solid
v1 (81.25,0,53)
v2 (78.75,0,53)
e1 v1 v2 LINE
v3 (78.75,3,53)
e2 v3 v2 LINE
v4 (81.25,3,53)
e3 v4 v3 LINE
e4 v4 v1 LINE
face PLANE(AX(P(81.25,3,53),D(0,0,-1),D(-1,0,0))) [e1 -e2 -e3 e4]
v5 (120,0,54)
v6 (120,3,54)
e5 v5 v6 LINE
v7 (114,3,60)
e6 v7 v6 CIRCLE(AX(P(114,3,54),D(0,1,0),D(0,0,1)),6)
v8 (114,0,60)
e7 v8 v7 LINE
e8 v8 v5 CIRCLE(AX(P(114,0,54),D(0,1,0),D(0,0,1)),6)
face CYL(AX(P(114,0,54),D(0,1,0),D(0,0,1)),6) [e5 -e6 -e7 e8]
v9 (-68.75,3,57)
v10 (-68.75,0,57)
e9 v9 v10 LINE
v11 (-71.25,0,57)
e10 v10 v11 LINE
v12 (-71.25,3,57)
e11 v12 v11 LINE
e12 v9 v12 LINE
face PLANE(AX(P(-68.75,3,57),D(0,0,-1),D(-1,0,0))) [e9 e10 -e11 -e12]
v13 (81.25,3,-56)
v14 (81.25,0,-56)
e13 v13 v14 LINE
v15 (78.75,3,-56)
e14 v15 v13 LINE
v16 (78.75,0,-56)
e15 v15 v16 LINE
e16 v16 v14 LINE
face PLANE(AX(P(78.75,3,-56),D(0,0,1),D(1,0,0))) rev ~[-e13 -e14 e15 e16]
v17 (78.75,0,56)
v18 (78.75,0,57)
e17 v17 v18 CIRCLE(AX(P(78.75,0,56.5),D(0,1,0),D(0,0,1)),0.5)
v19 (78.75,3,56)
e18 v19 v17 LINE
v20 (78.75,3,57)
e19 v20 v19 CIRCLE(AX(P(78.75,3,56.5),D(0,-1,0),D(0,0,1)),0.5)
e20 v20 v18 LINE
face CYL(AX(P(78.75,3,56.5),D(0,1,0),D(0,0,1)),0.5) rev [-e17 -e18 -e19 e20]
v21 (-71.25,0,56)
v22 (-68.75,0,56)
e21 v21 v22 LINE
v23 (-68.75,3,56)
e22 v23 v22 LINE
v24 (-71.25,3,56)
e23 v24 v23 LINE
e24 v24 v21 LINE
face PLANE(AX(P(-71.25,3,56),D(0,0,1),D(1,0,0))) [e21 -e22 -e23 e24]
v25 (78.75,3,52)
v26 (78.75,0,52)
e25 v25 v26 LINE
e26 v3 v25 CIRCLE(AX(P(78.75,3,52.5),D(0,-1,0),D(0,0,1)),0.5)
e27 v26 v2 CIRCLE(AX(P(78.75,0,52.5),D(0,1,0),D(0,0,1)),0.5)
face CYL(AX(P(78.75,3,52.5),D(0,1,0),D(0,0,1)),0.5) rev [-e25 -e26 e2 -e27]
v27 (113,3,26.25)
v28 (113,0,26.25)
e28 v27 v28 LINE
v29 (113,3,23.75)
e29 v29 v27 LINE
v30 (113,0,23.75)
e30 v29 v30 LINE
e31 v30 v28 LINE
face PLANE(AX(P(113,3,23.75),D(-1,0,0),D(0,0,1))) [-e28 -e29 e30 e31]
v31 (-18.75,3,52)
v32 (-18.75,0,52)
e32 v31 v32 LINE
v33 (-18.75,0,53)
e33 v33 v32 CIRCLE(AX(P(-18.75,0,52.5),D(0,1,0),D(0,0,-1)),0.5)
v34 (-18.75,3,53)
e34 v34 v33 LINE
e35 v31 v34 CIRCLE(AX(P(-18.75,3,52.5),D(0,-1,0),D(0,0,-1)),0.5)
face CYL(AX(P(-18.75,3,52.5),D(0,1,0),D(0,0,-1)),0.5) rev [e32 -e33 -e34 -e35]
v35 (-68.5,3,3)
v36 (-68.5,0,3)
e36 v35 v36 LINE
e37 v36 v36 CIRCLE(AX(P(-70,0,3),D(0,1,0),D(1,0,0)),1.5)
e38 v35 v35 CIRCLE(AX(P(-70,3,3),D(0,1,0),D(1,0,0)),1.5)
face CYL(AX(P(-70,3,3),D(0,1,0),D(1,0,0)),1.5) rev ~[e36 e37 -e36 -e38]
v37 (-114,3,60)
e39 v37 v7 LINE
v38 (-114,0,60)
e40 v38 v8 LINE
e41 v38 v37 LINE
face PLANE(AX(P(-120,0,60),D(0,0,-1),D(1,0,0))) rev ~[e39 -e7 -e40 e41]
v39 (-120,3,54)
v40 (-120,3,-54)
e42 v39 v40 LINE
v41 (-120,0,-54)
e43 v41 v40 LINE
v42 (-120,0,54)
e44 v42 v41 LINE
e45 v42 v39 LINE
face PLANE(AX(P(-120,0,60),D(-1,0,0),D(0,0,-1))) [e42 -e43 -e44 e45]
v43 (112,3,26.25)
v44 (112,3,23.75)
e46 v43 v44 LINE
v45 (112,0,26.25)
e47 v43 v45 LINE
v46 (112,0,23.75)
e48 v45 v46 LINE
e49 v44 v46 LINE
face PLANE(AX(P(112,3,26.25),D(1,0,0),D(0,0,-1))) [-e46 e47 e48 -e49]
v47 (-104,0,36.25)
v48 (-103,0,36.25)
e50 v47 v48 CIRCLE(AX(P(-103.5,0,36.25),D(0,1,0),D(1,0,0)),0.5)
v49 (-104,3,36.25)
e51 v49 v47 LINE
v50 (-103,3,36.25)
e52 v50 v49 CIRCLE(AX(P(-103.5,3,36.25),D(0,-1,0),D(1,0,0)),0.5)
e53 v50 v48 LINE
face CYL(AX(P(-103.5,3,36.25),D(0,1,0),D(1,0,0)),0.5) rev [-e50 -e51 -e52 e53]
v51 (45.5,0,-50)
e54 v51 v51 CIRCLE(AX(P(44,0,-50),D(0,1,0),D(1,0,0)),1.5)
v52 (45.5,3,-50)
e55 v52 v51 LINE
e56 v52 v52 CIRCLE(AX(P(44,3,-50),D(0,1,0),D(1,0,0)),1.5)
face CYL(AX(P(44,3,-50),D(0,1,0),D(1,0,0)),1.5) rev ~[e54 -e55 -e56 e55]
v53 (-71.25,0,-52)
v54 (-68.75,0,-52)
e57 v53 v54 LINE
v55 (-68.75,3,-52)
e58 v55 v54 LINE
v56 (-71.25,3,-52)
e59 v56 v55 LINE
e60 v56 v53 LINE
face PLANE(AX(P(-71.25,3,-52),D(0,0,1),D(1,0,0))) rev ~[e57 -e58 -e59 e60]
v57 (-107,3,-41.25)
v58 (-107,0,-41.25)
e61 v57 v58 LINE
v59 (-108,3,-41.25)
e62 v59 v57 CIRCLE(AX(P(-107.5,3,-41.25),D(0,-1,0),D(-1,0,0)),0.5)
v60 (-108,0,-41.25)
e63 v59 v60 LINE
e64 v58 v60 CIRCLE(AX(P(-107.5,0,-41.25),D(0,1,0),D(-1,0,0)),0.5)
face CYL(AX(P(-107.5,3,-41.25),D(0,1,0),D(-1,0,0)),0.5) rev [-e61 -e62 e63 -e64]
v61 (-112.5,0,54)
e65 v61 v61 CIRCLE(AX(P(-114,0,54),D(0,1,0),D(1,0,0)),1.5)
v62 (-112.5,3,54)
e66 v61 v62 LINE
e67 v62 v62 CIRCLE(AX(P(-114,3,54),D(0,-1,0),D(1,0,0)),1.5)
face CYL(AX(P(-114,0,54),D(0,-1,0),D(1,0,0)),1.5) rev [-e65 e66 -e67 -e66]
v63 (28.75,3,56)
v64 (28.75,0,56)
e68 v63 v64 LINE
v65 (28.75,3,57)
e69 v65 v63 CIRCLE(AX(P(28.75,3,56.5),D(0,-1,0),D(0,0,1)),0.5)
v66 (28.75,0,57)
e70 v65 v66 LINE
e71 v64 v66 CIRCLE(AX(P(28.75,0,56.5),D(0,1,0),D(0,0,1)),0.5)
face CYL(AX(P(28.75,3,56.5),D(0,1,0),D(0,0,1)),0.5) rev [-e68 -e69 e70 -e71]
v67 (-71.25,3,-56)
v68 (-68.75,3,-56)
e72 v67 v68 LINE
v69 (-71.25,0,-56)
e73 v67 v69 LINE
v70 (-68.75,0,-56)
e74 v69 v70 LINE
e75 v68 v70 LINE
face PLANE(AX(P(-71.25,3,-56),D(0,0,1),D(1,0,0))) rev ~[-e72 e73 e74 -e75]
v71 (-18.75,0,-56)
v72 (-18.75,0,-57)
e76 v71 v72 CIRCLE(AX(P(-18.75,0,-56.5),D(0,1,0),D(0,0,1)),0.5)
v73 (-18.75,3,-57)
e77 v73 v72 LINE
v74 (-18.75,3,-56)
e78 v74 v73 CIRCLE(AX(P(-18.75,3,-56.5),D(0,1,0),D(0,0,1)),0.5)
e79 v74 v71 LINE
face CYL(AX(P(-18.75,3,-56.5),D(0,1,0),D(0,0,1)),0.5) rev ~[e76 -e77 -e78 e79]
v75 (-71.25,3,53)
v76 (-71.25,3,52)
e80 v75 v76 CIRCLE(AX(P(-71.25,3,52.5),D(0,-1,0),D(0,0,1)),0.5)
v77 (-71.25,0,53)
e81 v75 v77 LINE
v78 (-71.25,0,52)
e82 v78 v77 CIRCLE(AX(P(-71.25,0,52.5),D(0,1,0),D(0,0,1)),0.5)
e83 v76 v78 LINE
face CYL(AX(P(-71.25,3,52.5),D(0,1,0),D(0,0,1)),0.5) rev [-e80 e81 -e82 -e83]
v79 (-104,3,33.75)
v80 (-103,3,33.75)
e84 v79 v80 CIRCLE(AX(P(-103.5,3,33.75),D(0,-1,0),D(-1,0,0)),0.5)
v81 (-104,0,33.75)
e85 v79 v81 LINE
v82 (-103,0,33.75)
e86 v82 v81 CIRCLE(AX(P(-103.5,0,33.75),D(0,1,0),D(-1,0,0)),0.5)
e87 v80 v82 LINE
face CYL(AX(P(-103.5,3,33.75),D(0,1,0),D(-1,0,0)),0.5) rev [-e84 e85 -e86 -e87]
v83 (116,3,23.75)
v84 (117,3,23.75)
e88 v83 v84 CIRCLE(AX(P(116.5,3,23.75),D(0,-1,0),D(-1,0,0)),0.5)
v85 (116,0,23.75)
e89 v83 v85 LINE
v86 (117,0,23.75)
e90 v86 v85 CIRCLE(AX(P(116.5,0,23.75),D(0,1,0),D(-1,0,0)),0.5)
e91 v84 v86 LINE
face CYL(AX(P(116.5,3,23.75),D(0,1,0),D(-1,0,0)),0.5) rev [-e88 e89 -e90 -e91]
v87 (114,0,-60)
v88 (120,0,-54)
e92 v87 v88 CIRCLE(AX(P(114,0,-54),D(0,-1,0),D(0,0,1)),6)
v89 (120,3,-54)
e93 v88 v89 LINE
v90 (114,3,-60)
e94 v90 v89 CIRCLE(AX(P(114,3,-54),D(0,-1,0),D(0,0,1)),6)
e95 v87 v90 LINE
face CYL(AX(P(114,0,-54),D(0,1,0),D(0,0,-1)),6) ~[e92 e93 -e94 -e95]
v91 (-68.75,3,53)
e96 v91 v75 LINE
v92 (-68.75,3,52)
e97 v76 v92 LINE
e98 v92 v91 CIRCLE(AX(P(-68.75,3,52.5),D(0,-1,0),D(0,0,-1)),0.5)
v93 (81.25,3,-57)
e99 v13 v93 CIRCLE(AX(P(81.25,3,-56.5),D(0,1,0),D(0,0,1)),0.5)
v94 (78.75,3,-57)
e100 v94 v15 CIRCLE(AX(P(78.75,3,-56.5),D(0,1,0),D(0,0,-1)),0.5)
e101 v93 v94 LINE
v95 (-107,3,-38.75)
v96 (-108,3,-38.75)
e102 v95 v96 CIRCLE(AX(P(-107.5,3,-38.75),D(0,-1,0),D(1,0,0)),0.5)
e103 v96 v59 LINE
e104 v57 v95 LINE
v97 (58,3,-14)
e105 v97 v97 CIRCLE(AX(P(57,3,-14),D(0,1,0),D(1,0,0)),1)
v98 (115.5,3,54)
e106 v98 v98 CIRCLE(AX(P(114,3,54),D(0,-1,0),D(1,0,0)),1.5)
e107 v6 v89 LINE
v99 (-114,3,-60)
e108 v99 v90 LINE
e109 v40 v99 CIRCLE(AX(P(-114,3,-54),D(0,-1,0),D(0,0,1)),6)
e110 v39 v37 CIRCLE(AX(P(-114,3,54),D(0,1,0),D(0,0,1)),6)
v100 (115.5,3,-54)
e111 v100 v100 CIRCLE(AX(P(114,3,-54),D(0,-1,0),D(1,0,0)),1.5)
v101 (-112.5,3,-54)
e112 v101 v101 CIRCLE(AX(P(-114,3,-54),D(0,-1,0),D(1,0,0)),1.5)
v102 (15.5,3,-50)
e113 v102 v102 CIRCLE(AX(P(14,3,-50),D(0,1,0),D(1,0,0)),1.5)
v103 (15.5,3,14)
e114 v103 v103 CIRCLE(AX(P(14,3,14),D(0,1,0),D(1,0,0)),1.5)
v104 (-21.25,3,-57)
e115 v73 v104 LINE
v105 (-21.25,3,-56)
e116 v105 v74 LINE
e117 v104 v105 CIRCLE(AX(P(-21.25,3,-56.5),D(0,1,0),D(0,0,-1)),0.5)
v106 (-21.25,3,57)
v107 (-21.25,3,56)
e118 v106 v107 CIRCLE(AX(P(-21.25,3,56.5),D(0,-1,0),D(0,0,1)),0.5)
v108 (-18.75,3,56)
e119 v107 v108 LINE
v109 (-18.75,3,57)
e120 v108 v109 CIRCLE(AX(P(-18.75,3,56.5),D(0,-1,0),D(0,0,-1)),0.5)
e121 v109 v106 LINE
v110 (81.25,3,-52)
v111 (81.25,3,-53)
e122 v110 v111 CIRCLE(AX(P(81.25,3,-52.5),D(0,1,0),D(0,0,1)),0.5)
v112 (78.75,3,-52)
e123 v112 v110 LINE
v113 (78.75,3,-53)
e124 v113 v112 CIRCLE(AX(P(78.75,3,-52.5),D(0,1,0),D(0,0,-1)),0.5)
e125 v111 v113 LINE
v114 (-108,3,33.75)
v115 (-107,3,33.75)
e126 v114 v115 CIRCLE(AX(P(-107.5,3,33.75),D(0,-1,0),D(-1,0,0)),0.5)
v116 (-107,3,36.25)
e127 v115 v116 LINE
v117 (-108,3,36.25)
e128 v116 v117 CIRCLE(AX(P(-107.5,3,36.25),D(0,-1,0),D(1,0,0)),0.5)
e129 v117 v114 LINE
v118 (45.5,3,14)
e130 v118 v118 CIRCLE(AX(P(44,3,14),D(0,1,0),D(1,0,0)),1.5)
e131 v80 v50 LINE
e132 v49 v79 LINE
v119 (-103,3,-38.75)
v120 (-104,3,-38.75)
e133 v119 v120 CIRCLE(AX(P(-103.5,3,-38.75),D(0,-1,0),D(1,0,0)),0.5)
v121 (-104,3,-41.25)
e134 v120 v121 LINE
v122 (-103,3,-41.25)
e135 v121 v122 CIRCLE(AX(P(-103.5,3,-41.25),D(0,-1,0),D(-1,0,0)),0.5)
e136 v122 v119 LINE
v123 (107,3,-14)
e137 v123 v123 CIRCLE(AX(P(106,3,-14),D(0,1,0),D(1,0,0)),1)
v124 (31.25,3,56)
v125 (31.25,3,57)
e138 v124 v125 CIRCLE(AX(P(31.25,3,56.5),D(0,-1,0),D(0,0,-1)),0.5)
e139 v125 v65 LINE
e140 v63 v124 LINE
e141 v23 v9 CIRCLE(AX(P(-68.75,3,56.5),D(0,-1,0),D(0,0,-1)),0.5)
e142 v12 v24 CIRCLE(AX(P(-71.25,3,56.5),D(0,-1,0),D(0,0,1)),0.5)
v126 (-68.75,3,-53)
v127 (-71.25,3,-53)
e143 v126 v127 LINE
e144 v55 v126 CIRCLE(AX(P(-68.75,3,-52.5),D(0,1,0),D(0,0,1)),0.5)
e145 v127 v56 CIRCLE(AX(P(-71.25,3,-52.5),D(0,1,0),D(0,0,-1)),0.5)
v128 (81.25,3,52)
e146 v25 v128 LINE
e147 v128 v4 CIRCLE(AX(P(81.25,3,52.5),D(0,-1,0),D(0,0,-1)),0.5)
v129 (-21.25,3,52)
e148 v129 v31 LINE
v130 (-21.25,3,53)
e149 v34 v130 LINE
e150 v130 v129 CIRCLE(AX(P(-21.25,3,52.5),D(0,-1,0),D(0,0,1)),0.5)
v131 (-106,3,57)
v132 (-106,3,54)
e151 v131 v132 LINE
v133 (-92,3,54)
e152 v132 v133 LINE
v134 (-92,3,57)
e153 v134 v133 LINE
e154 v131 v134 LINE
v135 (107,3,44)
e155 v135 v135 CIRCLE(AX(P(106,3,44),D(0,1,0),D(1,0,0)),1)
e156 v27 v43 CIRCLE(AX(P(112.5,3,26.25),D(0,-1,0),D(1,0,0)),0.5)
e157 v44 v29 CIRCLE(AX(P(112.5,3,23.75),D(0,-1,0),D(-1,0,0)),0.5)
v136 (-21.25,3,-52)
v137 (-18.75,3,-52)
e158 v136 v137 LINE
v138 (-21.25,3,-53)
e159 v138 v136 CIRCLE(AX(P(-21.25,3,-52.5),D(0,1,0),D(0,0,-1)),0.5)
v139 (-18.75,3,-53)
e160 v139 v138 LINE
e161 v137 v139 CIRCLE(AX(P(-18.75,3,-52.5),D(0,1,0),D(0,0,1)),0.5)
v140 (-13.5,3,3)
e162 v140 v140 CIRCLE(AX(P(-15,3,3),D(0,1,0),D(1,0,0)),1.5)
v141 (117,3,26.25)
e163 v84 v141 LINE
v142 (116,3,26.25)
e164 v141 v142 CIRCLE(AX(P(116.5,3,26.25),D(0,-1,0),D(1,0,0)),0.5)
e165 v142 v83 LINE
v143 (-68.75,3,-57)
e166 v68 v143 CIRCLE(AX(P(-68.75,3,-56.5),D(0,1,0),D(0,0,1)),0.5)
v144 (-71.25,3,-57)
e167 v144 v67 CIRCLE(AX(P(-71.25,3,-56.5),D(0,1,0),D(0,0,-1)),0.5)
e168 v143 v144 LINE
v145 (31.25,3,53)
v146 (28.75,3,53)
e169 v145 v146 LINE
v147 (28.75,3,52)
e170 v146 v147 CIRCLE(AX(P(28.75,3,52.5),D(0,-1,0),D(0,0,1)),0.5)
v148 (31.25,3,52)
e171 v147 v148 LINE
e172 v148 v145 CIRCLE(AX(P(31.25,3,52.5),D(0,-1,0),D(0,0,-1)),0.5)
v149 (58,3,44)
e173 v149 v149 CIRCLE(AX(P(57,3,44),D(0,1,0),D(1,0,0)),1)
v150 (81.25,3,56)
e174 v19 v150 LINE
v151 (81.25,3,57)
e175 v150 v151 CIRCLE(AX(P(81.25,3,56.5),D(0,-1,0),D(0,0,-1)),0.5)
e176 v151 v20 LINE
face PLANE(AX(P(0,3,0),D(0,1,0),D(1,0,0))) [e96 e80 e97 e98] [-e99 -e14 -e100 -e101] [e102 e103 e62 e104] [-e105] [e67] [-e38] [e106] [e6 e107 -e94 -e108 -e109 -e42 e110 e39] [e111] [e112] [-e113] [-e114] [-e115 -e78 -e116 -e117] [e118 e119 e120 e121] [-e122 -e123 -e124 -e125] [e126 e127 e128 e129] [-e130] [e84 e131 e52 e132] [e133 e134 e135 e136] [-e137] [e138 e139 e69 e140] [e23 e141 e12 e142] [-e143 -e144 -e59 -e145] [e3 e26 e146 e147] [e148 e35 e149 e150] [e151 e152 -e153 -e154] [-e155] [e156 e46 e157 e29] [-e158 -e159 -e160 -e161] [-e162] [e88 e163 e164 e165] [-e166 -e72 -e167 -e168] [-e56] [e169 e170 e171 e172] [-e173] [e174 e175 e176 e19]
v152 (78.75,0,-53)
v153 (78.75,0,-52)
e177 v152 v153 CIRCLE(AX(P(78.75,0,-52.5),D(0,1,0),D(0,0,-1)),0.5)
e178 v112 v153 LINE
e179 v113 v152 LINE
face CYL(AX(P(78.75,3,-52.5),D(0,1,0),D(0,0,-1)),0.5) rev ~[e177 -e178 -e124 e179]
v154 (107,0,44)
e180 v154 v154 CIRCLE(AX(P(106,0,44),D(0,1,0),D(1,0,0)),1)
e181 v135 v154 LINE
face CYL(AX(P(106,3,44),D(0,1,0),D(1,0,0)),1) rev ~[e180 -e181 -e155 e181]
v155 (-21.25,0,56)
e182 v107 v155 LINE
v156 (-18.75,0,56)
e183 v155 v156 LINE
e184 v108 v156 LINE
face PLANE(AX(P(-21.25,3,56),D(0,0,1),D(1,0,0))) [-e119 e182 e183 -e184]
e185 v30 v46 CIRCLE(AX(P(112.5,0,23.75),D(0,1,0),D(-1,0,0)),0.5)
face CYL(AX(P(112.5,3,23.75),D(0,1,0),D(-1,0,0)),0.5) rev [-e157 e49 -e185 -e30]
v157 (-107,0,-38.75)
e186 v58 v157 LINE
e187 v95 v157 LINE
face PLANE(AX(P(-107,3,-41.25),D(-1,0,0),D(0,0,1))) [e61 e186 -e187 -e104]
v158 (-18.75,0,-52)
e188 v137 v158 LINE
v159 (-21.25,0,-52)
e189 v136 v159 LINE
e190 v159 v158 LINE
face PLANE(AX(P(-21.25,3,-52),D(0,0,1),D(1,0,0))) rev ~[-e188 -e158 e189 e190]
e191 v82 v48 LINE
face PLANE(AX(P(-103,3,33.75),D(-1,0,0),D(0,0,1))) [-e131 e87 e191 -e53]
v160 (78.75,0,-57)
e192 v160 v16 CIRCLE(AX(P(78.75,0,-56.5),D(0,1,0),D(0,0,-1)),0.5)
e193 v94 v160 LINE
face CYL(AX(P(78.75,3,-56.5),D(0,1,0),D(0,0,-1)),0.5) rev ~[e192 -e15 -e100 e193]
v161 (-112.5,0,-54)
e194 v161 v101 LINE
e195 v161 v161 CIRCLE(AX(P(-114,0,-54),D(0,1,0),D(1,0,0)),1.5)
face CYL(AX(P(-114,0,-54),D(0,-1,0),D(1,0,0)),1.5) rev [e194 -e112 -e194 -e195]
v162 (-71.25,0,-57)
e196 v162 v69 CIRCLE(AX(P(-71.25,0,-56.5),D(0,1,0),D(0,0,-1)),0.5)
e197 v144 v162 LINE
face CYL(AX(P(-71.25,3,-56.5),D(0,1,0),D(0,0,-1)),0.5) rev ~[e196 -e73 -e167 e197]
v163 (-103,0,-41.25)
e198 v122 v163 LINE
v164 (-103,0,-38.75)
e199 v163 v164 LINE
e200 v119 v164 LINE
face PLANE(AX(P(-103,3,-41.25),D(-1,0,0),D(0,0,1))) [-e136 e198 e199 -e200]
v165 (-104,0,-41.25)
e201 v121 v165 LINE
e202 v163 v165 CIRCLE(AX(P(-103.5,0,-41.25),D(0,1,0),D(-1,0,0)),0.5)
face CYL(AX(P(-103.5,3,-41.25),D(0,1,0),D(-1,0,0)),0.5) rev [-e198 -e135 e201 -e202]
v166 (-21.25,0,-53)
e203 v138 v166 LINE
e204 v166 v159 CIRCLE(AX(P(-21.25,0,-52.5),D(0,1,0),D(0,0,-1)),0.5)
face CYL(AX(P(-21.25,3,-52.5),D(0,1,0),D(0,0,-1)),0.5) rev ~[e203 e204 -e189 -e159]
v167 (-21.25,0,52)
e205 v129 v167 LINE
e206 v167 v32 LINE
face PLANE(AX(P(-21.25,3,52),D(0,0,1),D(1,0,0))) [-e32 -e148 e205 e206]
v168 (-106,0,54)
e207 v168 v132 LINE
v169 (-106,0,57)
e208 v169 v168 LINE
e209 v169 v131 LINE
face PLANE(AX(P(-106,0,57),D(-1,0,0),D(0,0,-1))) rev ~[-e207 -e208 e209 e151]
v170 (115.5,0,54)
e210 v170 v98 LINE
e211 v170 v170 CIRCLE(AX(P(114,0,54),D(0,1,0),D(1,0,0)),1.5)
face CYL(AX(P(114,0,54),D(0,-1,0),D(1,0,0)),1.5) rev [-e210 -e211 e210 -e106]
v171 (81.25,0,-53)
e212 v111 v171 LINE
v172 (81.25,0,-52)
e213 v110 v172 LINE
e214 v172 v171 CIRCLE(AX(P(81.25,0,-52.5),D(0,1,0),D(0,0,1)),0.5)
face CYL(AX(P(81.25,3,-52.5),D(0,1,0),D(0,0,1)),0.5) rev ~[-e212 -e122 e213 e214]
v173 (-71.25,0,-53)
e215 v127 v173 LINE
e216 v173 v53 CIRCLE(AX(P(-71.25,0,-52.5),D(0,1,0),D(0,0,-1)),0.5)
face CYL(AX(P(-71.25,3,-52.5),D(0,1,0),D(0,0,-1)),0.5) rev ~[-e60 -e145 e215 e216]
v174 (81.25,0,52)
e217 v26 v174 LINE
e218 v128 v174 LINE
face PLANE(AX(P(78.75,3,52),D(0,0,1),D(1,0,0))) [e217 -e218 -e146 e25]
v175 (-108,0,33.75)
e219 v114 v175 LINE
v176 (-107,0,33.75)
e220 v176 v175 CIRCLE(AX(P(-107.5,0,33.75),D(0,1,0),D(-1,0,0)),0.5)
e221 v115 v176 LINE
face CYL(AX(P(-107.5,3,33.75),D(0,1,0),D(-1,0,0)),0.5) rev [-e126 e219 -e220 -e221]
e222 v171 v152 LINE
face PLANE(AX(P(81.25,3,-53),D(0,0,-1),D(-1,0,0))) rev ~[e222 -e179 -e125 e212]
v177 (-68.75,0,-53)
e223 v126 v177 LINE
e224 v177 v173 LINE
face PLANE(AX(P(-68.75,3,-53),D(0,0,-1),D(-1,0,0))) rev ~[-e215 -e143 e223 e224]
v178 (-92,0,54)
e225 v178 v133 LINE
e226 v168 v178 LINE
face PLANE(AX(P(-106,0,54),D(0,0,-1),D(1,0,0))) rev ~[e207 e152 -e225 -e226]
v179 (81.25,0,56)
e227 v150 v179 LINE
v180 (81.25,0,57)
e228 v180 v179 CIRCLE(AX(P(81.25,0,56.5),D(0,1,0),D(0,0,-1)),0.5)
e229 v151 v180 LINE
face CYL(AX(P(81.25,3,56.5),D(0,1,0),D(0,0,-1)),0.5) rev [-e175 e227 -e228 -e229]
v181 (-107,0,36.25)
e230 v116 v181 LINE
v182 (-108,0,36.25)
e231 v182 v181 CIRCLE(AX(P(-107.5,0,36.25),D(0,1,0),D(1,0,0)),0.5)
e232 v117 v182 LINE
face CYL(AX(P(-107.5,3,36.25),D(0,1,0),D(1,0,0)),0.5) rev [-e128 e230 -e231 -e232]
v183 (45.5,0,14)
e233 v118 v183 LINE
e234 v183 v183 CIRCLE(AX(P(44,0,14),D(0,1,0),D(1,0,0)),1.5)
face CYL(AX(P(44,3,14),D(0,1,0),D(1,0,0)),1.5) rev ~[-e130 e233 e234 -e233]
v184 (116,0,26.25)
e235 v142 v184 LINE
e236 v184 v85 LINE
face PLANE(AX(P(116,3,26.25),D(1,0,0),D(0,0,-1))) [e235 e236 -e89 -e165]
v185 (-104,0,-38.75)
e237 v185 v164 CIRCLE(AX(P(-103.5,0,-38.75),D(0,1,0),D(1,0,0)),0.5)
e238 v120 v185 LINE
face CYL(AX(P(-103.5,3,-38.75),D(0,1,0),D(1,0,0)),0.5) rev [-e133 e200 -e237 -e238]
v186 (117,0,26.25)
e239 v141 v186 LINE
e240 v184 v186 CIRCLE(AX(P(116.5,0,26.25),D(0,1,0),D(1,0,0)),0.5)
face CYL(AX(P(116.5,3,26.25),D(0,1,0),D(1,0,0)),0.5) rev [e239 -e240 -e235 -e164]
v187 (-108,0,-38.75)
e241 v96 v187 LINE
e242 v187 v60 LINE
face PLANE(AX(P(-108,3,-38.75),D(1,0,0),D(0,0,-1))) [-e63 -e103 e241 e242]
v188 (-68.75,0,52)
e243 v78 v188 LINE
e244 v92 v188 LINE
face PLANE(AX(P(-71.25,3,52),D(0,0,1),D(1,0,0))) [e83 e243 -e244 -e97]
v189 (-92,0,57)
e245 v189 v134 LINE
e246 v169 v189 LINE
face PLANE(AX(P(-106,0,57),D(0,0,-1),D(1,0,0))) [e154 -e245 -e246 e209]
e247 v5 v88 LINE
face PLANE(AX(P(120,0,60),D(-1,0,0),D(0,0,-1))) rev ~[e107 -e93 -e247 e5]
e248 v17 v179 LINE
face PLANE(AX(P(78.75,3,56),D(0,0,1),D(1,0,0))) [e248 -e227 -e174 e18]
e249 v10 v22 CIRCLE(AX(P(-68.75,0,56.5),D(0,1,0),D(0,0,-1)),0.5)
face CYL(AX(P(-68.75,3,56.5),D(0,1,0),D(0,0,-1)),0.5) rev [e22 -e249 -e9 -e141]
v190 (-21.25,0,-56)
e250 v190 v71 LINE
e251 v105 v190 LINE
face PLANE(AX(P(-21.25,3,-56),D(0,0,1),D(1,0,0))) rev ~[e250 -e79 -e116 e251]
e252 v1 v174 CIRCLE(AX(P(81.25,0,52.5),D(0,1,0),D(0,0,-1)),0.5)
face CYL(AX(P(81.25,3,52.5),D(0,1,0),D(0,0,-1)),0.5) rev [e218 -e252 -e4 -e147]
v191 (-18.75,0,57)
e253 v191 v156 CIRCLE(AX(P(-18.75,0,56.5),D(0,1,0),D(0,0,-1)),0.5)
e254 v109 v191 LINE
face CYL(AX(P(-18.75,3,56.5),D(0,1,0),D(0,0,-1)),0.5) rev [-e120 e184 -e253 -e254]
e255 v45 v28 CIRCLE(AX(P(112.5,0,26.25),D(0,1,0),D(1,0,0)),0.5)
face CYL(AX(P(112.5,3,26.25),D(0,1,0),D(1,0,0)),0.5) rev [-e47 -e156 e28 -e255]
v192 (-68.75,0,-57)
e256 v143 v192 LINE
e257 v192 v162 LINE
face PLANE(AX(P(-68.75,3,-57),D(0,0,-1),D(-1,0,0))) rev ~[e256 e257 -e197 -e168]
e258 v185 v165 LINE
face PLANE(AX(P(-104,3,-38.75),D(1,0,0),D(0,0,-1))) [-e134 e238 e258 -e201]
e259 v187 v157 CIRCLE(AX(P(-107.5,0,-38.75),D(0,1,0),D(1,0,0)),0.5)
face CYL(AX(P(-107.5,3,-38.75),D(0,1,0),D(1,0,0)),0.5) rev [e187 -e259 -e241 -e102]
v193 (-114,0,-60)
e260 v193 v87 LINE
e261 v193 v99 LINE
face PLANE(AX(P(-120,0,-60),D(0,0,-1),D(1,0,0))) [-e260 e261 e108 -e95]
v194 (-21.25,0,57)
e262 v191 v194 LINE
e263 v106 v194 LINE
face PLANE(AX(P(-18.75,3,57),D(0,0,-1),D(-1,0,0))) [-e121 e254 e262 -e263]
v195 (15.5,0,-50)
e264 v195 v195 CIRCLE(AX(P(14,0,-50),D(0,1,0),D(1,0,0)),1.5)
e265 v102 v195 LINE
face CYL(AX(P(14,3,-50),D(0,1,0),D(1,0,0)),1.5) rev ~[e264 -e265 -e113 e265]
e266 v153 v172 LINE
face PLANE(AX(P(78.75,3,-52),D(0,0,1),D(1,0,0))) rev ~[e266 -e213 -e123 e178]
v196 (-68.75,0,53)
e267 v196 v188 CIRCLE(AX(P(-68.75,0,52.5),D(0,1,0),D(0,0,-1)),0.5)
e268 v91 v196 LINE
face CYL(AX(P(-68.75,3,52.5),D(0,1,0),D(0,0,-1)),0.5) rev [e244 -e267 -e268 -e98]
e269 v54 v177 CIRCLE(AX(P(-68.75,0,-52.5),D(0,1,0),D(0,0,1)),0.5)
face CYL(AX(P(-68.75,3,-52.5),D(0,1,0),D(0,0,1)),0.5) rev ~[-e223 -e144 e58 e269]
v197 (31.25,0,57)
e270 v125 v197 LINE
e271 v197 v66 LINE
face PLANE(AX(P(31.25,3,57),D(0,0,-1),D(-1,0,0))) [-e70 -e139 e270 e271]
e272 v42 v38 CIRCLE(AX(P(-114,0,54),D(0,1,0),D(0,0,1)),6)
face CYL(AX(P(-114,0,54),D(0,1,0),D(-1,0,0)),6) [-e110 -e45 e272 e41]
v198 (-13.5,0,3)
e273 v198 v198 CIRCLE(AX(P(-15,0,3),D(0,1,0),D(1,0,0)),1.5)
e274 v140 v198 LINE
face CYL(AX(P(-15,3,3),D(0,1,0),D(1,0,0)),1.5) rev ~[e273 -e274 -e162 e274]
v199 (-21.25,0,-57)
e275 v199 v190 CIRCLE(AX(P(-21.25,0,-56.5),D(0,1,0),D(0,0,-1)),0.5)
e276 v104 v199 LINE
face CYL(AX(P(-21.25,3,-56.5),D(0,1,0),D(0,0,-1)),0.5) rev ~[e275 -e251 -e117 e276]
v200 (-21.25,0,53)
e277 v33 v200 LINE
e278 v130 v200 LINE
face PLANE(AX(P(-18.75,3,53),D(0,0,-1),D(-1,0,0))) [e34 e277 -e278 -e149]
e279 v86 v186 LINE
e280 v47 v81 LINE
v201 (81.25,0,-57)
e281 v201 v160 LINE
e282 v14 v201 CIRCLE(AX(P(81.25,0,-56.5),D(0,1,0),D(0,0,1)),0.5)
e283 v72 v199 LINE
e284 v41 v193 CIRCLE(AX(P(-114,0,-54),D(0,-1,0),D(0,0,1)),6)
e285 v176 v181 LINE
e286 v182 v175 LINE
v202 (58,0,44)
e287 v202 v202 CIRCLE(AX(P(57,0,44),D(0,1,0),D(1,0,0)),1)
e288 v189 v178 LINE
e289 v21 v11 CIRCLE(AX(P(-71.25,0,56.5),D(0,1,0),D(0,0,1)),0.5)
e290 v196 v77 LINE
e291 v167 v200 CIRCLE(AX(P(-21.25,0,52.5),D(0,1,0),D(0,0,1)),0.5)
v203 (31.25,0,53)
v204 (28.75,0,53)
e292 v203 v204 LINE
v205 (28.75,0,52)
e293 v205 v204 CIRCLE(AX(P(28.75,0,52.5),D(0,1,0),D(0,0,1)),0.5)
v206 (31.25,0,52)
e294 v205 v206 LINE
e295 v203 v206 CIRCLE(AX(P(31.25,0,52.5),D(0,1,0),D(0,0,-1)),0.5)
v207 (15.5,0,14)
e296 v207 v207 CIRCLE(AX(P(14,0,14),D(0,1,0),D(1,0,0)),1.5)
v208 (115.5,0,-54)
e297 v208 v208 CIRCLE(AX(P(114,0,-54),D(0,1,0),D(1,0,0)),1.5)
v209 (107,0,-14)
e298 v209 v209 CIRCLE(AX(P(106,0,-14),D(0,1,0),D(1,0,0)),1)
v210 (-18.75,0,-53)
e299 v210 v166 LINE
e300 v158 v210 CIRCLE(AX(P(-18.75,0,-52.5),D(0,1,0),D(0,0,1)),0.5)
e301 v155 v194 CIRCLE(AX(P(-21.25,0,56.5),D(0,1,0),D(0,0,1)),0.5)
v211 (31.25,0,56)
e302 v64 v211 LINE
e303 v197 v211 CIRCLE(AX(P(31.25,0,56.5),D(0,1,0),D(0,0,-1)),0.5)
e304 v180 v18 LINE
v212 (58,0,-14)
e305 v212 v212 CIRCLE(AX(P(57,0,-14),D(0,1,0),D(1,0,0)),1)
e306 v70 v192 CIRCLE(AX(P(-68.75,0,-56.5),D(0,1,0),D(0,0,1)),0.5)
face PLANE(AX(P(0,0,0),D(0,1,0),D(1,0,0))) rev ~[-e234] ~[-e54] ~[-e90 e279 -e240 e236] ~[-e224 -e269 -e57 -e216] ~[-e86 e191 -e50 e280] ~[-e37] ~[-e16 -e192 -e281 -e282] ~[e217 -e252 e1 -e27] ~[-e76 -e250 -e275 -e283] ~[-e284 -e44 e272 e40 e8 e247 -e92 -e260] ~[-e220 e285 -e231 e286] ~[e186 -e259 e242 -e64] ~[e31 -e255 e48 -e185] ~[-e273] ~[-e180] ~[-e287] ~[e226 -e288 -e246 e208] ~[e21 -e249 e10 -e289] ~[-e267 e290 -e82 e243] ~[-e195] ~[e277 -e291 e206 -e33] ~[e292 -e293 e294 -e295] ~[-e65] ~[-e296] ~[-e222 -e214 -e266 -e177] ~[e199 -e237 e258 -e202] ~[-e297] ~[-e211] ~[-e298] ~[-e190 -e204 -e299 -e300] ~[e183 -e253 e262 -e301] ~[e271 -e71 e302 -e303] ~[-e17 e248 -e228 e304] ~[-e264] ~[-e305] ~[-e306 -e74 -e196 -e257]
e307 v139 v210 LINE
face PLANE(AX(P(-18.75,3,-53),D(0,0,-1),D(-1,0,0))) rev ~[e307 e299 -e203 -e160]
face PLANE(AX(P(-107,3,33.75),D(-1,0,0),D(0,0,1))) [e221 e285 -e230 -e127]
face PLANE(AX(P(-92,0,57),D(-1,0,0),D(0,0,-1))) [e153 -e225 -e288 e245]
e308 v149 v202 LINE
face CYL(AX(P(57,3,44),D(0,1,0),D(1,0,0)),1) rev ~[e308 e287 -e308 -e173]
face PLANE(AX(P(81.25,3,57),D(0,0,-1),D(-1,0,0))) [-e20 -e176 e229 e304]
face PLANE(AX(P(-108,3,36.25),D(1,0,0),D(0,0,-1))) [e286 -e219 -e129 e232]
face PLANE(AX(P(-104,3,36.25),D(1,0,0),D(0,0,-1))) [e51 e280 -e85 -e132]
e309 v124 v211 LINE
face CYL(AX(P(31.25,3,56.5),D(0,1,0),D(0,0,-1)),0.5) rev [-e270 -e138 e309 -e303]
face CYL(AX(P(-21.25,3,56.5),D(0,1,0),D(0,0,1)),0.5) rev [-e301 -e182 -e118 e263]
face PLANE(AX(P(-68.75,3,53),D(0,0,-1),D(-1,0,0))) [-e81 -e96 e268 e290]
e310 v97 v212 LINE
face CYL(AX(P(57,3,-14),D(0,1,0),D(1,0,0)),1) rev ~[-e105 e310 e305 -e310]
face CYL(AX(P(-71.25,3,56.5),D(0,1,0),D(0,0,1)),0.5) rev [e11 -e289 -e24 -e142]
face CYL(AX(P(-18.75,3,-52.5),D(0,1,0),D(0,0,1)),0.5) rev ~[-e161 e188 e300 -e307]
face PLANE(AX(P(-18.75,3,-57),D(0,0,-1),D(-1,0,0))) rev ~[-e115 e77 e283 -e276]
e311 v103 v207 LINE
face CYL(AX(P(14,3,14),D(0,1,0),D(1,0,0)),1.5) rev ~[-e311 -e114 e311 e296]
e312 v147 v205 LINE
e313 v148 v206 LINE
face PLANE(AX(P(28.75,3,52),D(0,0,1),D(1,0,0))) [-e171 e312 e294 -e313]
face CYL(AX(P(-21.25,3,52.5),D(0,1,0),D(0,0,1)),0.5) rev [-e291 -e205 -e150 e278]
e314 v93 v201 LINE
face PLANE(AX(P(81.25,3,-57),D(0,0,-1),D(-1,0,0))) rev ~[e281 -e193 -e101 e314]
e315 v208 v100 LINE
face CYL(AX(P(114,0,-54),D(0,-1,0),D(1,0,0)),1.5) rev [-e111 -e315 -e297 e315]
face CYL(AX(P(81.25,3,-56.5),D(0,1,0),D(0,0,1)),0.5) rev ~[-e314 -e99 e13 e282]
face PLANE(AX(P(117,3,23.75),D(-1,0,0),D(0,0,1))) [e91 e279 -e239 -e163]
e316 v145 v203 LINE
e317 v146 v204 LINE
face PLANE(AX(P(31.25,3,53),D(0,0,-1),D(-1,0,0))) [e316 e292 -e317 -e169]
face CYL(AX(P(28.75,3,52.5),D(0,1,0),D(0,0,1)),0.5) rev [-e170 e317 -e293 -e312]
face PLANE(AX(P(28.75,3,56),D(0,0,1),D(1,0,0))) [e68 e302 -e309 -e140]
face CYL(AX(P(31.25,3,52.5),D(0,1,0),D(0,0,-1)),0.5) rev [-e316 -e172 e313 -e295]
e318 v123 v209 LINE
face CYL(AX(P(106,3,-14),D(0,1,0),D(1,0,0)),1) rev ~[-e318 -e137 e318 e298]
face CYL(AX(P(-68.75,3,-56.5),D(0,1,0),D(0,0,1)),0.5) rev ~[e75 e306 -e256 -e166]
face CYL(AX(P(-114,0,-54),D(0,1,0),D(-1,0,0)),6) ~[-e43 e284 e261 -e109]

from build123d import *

# Parameters (mm, degrees)
SKETCH1_W           = 240
SKETCH1_H           = 120
SKETCH1_W_2         = 14
SKETCH1_H_2         = 3
BOSS_EXTRUDE1_DEPTH = 3
FILLET1_R           = 6
SKETCH2_R           = 1.5
CUT_EXTRUDE2_DEPTH  = 4
SKETCH3_R           = 1.5
CUT_EXTRUDE3_DEPTH  = 4
SKETCH4_R           = 1.5
CUT_EXTRUDE4_DEPTH  = 4
SKETCH5_R           = 1
CUT_EXTRUDE5_DEPTH  = 4
CUT_EXTRUDE6_DEPTH  = 4


with BuildPart() as part:
    # Sketch1 → Boss-Extrude1 (new body)
    with BuildSketch(Plane(origin=(0, 0, 0), x_dir=(1, 0, 0), z_dir=(0, 1, 0))):
        Rectangle(SKETCH1_W, SKETCH1_H)
        with Locations((-99, -55.5)):
            Rectangle(SKETCH1_W_2, SKETCH1_H_2, mode=Mode.SUBTRACT)
    extrude(amount=BOSS_EXTRUDE1_DEPTH)

    # Fillet1
    fillet1_edges = [part.edges().sort_by_distance(p)[0] for p in [
        (-120, 1.5, -60),
        (120, 1.5, -60),
        (120, 1.5, 60),
        (-120, 1.5, 60),
    ]]
    fillet(fillet1_edges, radius=FILLET1_R)

    # Sketch2 → Cut-Extrude2 (cut, through all)
    with BuildSketch(Plane(origin=(0, 0, 0), x_dir=(1, 0, 0), z_dir=(0, 1, 0))):
        with Locations((-114, 54)):
            Circle(SKETCH2_R)
        with Locations((114, 54)):
            Circle(SKETCH2_R)
        with Locations((-114, -54)):
            Circle(SKETCH2_R)
        with Locations((114, -54)):
            Circle(SKETCH2_R)
    extrude(amount=CUT_EXTRUDE2_DEPTH, mode=Mode.SUBTRACT)

    # Sketch3 → Cut-Extrude3 (cut, through all)
    with BuildSketch(Plane(origin=(0, 3, 0), x_dir=(1, 0, 0), z_dir=(0, 1, 0))):
        with Locations((-70, -3)):
            Circle(SKETCH3_R)
        with Locations((-15, -3)):
            Circle(SKETCH3_R)
    extrude(amount=-CUT_EXTRUDE3_DEPTH, mode=Mode.SUBTRACT)

    # Sketch4 → Cut-Extrude4 (cut, through all)
    with BuildSketch(Plane(origin=(0, 3, 0), x_dir=(1, 0, 0), z_dir=(0, 1, 0))):
        with Locations((44, 50)):
            Circle(SKETCH4_R)
        with Locations((14, 50)):
            Circle(SKETCH4_R)
        with Locations((44, -14)):
            Circle(SKETCH4_R)
        with Locations((14, -14)):
            Circle(SKETCH4_R)
    extrude(amount=-CUT_EXTRUDE4_DEPTH, mode=Mode.SUBTRACT)

    # Sketch5 → Cut-Extrude5 (cut, through all)
    with BuildSketch(Plane(origin=(0, 3, 0), x_dir=(1, 0, 0), z_dir=(0, 1, 0))):
        with Locations((106, 14)):
            Circle(SKETCH5_R)
        with Locations((106, -44)):
            Circle(SKETCH5_R)
        with Locations((57, -44)):
            Circle(SKETCH5_R)
        with Locations((57, 14)):
            Circle(SKETCH5_R)
    extrude(amount=-CUT_EXTRUDE5_DEPTH, mode=Mode.SUBTRACT)

    # Sketch7 → Cut-Extrude6 (cut, through all)
    with BuildSketch(Plane(origin=(0, 3, 0), x_dir=(1, 0, 0), z_dir=(0, 1, 0))):
        with BuildLine():
            Line((117, -23.75), (117, -26.25))
            ThreePointArc((117, -26.25), (116.5, -26.75), (116, -26.25))
            Line((116, -26.25), (116, -23.75))
            ThreePointArc((116, -23.75), (116.5, -23.25), (117, -23.75))
        make_face()
        with BuildLine():
            Line((113, -23.75), (113, -26.25))
            ThreePointArc((113, -26.25), (112.5, -26.75), (112, -26.25))
            Line((112, -26.25), (112, -23.75))
            ThreePointArc((112, -23.75), (112.5, -23.25), (113, -23.75))
        make_face()
        with BuildLine():
            Line((81.25, -53), (78.75, -53))
            ThreePointArc((78.75, -53), (78.25, -52.5), (78.75, -52))
            Line((78.75, -52), (81.25, -52))
            ThreePointArc((81.25, -52), (81.75, -52.5), (81.25, -53))
        make_face()
        with BuildLine():
            Line((81.25, -57), (78.75, -57))
            ThreePointArc((78.75, -57), (78.25, -56.5), (78.75, -56))
            Line((78.75, -56), (81.25, -56))
            ThreePointArc((81.25, -56), (81.75, -56.5), (81.25, -57))
        make_face()
        with BuildLine():
            Line((31.25, -53), (28.75, -53))
            ThreePointArc((28.75, -53), (28.25, -52.5), (28.75, -52))
            Line((28.75, -52), (31.25, -52))
            ThreePointArc((31.25, -52), (31.75, -52.5), (31.25, -53))
        make_face()
        with BuildLine():
            Line((31.25, -57), (28.75, -57))
            ThreePointArc((28.75, -57), (28.25, -56.5), (28.75, -56))
            Line((28.75, -56), (31.25, -56))
            ThreePointArc((31.25, -56), (31.75, -56.5), (31.25, -57))
        make_face()
        with BuildLine():
            Line((-18.75, -53), (-21.25, -53))
            ThreePointArc((-21.25, -53), (-21.75, -52.5), (-21.25, -52))
            Line((-21.25, -52), (-18.75, -52))
            ThreePointArc((-18.75, -52), (-18.25, -52.5), (-18.75, -53))
        make_face()
        with BuildLine():
            Line((-18.75, -57), (-21.25, -57))
            ThreePointArc((-21.25, -57), (-21.75, -56.5), (-21.25, -56))
            Line((-21.25, -56), (-18.75, -56))
            ThreePointArc((-18.75, -56), (-18.25, -56.5), (-18.75, -57))
        make_face()
        with BuildLine():
            Line((-68.75, -53), (-71.25, -53))
            ThreePointArc((-71.25, -53), (-71.75, -52.5), (-71.25, -52))
            Line((-71.25, -52), (-68.75, -52))
            ThreePointArc((-68.75, -52), (-68.25, -52.5), (-68.75, -53))
        make_face()
        with BuildLine():
            Line((-68.75, -57), (-71.25, -57))
            ThreePointArc((-71.25, -57), (-71.75, -56.5), (-71.25, -56))
            Line((-71.25, -56), (-68.75, -56))
            ThreePointArc((-68.75, -56), (-68.25, -56.5), (-68.75, -57))
        make_face()
        with BuildLine():
            Line((81.25, 57), (78.75, 57))
            ThreePointArc((78.75, 57), (78.25, 56.5), (78.75, 56))
            Line((78.75, 56), (81.25, 56))
            ThreePointArc((81.25, 56), (81.75, 56.5), (81.25, 57))
        make_face()
        with BuildLine():
            Line((81.25, 53), (78.75, 53))
            ThreePointArc((78.75, 53), (78.25, 52.5), (78.75, 52))
            Line((78.75, 52), (81.25, 52))
            ThreePointArc((81.25, 52), (81.75, 52.5), (81.25, 53))
        make_face()
        with BuildLine():
            Line((-18.75, 57), (-21.25, 57))
            ThreePointArc((-21.25, 57), (-21.75, 56.5), (-21.25, 56))
            Line((-21.25, 56), (-18.75, 56))
            ThreePointArc((-18.75, 56), (-18.25, 56.5), (-18.75, 57))
        make_face()
        with BuildLine():
            Line((-18.75, 53), (-21.25, 53))
            ThreePointArc((-21.25, 53), (-21.75, 52.5), (-21.25, 52))
            Line((-21.25, 52), (-18.75, 52))
            ThreePointArc((-18.75, 52), (-18.25, 52.5), (-18.75, 53))
        make_face()
        with BuildLine():
            Line((-68.75, 57), (-71.25, 57))
            ThreePointArc((-71.25, 57), (-71.75, 56.5), (-71.25, 56))
            Line((-71.25, 56), (-68.75, 56))
            ThreePointArc((-68.75, 56), (-68.25, 56.5), (-68.75, 57))
        make_face()
        with BuildLine():
            Line((-68.75, 53), (-71.25, 53))
            ThreePointArc((-71.25, 53), (-71.75, 52.5), (-71.25, 52))
            Line((-71.25, 52), (-68.75, 52))
            ThreePointArc((-68.75, 52), (-68.25, 52.5), (-68.75, 53))
        make_face()
        with BuildLine():
            Line((-103, -33.75), (-103, -36.25))
            ThreePointArc((-103, -36.25), (-103.5, -36.75), (-104, -36.25))
            Line((-104, -36.25), (-104, -33.75))
            ThreePointArc((-104, -33.75), (-103.5, -33.25), (-103, -33.75))
        make_face()
        with BuildLine():
            Line((-107, -33.75), (-107, -36.25))
            ThreePointArc((-107, -36.25), (-107.5, -36.75), (-108, -36.25))
            Line((-108, -36.25), (-108, -33.75))
            ThreePointArc((-108, -33.75), (-107.5, -33.25), (-107, -33.75))
        make_face()
        with BuildLine():
            Line((-103, 41.25), (-103, 38.75))
            ThreePointArc((-103, 38.75), (-103.5, 38.25), (-104, 38.75))
            Line((-104, 38.75), (-104, 41.25))
            ThreePointArc((-104, 41.25), (-103.5, 41.75), (-103, 41.25))
        make_face()
        with BuildLine():
            Line((-107, 41.25), (-107, 38.75))
            ThreePointArc((-107, 38.75), (-107.5, 38.25), (-108, 38.75))
            Line((-108, 38.75), (-108, 41.25))
            ThreePointArc((-108, 41.25), (-107.5, 41.75), (-107, 41.25))
        make_face()
    extrude(amount=-CUT_EXTRUDE6_DEPTH, mode=Mode.SUBTRACT)


solid = part.part
